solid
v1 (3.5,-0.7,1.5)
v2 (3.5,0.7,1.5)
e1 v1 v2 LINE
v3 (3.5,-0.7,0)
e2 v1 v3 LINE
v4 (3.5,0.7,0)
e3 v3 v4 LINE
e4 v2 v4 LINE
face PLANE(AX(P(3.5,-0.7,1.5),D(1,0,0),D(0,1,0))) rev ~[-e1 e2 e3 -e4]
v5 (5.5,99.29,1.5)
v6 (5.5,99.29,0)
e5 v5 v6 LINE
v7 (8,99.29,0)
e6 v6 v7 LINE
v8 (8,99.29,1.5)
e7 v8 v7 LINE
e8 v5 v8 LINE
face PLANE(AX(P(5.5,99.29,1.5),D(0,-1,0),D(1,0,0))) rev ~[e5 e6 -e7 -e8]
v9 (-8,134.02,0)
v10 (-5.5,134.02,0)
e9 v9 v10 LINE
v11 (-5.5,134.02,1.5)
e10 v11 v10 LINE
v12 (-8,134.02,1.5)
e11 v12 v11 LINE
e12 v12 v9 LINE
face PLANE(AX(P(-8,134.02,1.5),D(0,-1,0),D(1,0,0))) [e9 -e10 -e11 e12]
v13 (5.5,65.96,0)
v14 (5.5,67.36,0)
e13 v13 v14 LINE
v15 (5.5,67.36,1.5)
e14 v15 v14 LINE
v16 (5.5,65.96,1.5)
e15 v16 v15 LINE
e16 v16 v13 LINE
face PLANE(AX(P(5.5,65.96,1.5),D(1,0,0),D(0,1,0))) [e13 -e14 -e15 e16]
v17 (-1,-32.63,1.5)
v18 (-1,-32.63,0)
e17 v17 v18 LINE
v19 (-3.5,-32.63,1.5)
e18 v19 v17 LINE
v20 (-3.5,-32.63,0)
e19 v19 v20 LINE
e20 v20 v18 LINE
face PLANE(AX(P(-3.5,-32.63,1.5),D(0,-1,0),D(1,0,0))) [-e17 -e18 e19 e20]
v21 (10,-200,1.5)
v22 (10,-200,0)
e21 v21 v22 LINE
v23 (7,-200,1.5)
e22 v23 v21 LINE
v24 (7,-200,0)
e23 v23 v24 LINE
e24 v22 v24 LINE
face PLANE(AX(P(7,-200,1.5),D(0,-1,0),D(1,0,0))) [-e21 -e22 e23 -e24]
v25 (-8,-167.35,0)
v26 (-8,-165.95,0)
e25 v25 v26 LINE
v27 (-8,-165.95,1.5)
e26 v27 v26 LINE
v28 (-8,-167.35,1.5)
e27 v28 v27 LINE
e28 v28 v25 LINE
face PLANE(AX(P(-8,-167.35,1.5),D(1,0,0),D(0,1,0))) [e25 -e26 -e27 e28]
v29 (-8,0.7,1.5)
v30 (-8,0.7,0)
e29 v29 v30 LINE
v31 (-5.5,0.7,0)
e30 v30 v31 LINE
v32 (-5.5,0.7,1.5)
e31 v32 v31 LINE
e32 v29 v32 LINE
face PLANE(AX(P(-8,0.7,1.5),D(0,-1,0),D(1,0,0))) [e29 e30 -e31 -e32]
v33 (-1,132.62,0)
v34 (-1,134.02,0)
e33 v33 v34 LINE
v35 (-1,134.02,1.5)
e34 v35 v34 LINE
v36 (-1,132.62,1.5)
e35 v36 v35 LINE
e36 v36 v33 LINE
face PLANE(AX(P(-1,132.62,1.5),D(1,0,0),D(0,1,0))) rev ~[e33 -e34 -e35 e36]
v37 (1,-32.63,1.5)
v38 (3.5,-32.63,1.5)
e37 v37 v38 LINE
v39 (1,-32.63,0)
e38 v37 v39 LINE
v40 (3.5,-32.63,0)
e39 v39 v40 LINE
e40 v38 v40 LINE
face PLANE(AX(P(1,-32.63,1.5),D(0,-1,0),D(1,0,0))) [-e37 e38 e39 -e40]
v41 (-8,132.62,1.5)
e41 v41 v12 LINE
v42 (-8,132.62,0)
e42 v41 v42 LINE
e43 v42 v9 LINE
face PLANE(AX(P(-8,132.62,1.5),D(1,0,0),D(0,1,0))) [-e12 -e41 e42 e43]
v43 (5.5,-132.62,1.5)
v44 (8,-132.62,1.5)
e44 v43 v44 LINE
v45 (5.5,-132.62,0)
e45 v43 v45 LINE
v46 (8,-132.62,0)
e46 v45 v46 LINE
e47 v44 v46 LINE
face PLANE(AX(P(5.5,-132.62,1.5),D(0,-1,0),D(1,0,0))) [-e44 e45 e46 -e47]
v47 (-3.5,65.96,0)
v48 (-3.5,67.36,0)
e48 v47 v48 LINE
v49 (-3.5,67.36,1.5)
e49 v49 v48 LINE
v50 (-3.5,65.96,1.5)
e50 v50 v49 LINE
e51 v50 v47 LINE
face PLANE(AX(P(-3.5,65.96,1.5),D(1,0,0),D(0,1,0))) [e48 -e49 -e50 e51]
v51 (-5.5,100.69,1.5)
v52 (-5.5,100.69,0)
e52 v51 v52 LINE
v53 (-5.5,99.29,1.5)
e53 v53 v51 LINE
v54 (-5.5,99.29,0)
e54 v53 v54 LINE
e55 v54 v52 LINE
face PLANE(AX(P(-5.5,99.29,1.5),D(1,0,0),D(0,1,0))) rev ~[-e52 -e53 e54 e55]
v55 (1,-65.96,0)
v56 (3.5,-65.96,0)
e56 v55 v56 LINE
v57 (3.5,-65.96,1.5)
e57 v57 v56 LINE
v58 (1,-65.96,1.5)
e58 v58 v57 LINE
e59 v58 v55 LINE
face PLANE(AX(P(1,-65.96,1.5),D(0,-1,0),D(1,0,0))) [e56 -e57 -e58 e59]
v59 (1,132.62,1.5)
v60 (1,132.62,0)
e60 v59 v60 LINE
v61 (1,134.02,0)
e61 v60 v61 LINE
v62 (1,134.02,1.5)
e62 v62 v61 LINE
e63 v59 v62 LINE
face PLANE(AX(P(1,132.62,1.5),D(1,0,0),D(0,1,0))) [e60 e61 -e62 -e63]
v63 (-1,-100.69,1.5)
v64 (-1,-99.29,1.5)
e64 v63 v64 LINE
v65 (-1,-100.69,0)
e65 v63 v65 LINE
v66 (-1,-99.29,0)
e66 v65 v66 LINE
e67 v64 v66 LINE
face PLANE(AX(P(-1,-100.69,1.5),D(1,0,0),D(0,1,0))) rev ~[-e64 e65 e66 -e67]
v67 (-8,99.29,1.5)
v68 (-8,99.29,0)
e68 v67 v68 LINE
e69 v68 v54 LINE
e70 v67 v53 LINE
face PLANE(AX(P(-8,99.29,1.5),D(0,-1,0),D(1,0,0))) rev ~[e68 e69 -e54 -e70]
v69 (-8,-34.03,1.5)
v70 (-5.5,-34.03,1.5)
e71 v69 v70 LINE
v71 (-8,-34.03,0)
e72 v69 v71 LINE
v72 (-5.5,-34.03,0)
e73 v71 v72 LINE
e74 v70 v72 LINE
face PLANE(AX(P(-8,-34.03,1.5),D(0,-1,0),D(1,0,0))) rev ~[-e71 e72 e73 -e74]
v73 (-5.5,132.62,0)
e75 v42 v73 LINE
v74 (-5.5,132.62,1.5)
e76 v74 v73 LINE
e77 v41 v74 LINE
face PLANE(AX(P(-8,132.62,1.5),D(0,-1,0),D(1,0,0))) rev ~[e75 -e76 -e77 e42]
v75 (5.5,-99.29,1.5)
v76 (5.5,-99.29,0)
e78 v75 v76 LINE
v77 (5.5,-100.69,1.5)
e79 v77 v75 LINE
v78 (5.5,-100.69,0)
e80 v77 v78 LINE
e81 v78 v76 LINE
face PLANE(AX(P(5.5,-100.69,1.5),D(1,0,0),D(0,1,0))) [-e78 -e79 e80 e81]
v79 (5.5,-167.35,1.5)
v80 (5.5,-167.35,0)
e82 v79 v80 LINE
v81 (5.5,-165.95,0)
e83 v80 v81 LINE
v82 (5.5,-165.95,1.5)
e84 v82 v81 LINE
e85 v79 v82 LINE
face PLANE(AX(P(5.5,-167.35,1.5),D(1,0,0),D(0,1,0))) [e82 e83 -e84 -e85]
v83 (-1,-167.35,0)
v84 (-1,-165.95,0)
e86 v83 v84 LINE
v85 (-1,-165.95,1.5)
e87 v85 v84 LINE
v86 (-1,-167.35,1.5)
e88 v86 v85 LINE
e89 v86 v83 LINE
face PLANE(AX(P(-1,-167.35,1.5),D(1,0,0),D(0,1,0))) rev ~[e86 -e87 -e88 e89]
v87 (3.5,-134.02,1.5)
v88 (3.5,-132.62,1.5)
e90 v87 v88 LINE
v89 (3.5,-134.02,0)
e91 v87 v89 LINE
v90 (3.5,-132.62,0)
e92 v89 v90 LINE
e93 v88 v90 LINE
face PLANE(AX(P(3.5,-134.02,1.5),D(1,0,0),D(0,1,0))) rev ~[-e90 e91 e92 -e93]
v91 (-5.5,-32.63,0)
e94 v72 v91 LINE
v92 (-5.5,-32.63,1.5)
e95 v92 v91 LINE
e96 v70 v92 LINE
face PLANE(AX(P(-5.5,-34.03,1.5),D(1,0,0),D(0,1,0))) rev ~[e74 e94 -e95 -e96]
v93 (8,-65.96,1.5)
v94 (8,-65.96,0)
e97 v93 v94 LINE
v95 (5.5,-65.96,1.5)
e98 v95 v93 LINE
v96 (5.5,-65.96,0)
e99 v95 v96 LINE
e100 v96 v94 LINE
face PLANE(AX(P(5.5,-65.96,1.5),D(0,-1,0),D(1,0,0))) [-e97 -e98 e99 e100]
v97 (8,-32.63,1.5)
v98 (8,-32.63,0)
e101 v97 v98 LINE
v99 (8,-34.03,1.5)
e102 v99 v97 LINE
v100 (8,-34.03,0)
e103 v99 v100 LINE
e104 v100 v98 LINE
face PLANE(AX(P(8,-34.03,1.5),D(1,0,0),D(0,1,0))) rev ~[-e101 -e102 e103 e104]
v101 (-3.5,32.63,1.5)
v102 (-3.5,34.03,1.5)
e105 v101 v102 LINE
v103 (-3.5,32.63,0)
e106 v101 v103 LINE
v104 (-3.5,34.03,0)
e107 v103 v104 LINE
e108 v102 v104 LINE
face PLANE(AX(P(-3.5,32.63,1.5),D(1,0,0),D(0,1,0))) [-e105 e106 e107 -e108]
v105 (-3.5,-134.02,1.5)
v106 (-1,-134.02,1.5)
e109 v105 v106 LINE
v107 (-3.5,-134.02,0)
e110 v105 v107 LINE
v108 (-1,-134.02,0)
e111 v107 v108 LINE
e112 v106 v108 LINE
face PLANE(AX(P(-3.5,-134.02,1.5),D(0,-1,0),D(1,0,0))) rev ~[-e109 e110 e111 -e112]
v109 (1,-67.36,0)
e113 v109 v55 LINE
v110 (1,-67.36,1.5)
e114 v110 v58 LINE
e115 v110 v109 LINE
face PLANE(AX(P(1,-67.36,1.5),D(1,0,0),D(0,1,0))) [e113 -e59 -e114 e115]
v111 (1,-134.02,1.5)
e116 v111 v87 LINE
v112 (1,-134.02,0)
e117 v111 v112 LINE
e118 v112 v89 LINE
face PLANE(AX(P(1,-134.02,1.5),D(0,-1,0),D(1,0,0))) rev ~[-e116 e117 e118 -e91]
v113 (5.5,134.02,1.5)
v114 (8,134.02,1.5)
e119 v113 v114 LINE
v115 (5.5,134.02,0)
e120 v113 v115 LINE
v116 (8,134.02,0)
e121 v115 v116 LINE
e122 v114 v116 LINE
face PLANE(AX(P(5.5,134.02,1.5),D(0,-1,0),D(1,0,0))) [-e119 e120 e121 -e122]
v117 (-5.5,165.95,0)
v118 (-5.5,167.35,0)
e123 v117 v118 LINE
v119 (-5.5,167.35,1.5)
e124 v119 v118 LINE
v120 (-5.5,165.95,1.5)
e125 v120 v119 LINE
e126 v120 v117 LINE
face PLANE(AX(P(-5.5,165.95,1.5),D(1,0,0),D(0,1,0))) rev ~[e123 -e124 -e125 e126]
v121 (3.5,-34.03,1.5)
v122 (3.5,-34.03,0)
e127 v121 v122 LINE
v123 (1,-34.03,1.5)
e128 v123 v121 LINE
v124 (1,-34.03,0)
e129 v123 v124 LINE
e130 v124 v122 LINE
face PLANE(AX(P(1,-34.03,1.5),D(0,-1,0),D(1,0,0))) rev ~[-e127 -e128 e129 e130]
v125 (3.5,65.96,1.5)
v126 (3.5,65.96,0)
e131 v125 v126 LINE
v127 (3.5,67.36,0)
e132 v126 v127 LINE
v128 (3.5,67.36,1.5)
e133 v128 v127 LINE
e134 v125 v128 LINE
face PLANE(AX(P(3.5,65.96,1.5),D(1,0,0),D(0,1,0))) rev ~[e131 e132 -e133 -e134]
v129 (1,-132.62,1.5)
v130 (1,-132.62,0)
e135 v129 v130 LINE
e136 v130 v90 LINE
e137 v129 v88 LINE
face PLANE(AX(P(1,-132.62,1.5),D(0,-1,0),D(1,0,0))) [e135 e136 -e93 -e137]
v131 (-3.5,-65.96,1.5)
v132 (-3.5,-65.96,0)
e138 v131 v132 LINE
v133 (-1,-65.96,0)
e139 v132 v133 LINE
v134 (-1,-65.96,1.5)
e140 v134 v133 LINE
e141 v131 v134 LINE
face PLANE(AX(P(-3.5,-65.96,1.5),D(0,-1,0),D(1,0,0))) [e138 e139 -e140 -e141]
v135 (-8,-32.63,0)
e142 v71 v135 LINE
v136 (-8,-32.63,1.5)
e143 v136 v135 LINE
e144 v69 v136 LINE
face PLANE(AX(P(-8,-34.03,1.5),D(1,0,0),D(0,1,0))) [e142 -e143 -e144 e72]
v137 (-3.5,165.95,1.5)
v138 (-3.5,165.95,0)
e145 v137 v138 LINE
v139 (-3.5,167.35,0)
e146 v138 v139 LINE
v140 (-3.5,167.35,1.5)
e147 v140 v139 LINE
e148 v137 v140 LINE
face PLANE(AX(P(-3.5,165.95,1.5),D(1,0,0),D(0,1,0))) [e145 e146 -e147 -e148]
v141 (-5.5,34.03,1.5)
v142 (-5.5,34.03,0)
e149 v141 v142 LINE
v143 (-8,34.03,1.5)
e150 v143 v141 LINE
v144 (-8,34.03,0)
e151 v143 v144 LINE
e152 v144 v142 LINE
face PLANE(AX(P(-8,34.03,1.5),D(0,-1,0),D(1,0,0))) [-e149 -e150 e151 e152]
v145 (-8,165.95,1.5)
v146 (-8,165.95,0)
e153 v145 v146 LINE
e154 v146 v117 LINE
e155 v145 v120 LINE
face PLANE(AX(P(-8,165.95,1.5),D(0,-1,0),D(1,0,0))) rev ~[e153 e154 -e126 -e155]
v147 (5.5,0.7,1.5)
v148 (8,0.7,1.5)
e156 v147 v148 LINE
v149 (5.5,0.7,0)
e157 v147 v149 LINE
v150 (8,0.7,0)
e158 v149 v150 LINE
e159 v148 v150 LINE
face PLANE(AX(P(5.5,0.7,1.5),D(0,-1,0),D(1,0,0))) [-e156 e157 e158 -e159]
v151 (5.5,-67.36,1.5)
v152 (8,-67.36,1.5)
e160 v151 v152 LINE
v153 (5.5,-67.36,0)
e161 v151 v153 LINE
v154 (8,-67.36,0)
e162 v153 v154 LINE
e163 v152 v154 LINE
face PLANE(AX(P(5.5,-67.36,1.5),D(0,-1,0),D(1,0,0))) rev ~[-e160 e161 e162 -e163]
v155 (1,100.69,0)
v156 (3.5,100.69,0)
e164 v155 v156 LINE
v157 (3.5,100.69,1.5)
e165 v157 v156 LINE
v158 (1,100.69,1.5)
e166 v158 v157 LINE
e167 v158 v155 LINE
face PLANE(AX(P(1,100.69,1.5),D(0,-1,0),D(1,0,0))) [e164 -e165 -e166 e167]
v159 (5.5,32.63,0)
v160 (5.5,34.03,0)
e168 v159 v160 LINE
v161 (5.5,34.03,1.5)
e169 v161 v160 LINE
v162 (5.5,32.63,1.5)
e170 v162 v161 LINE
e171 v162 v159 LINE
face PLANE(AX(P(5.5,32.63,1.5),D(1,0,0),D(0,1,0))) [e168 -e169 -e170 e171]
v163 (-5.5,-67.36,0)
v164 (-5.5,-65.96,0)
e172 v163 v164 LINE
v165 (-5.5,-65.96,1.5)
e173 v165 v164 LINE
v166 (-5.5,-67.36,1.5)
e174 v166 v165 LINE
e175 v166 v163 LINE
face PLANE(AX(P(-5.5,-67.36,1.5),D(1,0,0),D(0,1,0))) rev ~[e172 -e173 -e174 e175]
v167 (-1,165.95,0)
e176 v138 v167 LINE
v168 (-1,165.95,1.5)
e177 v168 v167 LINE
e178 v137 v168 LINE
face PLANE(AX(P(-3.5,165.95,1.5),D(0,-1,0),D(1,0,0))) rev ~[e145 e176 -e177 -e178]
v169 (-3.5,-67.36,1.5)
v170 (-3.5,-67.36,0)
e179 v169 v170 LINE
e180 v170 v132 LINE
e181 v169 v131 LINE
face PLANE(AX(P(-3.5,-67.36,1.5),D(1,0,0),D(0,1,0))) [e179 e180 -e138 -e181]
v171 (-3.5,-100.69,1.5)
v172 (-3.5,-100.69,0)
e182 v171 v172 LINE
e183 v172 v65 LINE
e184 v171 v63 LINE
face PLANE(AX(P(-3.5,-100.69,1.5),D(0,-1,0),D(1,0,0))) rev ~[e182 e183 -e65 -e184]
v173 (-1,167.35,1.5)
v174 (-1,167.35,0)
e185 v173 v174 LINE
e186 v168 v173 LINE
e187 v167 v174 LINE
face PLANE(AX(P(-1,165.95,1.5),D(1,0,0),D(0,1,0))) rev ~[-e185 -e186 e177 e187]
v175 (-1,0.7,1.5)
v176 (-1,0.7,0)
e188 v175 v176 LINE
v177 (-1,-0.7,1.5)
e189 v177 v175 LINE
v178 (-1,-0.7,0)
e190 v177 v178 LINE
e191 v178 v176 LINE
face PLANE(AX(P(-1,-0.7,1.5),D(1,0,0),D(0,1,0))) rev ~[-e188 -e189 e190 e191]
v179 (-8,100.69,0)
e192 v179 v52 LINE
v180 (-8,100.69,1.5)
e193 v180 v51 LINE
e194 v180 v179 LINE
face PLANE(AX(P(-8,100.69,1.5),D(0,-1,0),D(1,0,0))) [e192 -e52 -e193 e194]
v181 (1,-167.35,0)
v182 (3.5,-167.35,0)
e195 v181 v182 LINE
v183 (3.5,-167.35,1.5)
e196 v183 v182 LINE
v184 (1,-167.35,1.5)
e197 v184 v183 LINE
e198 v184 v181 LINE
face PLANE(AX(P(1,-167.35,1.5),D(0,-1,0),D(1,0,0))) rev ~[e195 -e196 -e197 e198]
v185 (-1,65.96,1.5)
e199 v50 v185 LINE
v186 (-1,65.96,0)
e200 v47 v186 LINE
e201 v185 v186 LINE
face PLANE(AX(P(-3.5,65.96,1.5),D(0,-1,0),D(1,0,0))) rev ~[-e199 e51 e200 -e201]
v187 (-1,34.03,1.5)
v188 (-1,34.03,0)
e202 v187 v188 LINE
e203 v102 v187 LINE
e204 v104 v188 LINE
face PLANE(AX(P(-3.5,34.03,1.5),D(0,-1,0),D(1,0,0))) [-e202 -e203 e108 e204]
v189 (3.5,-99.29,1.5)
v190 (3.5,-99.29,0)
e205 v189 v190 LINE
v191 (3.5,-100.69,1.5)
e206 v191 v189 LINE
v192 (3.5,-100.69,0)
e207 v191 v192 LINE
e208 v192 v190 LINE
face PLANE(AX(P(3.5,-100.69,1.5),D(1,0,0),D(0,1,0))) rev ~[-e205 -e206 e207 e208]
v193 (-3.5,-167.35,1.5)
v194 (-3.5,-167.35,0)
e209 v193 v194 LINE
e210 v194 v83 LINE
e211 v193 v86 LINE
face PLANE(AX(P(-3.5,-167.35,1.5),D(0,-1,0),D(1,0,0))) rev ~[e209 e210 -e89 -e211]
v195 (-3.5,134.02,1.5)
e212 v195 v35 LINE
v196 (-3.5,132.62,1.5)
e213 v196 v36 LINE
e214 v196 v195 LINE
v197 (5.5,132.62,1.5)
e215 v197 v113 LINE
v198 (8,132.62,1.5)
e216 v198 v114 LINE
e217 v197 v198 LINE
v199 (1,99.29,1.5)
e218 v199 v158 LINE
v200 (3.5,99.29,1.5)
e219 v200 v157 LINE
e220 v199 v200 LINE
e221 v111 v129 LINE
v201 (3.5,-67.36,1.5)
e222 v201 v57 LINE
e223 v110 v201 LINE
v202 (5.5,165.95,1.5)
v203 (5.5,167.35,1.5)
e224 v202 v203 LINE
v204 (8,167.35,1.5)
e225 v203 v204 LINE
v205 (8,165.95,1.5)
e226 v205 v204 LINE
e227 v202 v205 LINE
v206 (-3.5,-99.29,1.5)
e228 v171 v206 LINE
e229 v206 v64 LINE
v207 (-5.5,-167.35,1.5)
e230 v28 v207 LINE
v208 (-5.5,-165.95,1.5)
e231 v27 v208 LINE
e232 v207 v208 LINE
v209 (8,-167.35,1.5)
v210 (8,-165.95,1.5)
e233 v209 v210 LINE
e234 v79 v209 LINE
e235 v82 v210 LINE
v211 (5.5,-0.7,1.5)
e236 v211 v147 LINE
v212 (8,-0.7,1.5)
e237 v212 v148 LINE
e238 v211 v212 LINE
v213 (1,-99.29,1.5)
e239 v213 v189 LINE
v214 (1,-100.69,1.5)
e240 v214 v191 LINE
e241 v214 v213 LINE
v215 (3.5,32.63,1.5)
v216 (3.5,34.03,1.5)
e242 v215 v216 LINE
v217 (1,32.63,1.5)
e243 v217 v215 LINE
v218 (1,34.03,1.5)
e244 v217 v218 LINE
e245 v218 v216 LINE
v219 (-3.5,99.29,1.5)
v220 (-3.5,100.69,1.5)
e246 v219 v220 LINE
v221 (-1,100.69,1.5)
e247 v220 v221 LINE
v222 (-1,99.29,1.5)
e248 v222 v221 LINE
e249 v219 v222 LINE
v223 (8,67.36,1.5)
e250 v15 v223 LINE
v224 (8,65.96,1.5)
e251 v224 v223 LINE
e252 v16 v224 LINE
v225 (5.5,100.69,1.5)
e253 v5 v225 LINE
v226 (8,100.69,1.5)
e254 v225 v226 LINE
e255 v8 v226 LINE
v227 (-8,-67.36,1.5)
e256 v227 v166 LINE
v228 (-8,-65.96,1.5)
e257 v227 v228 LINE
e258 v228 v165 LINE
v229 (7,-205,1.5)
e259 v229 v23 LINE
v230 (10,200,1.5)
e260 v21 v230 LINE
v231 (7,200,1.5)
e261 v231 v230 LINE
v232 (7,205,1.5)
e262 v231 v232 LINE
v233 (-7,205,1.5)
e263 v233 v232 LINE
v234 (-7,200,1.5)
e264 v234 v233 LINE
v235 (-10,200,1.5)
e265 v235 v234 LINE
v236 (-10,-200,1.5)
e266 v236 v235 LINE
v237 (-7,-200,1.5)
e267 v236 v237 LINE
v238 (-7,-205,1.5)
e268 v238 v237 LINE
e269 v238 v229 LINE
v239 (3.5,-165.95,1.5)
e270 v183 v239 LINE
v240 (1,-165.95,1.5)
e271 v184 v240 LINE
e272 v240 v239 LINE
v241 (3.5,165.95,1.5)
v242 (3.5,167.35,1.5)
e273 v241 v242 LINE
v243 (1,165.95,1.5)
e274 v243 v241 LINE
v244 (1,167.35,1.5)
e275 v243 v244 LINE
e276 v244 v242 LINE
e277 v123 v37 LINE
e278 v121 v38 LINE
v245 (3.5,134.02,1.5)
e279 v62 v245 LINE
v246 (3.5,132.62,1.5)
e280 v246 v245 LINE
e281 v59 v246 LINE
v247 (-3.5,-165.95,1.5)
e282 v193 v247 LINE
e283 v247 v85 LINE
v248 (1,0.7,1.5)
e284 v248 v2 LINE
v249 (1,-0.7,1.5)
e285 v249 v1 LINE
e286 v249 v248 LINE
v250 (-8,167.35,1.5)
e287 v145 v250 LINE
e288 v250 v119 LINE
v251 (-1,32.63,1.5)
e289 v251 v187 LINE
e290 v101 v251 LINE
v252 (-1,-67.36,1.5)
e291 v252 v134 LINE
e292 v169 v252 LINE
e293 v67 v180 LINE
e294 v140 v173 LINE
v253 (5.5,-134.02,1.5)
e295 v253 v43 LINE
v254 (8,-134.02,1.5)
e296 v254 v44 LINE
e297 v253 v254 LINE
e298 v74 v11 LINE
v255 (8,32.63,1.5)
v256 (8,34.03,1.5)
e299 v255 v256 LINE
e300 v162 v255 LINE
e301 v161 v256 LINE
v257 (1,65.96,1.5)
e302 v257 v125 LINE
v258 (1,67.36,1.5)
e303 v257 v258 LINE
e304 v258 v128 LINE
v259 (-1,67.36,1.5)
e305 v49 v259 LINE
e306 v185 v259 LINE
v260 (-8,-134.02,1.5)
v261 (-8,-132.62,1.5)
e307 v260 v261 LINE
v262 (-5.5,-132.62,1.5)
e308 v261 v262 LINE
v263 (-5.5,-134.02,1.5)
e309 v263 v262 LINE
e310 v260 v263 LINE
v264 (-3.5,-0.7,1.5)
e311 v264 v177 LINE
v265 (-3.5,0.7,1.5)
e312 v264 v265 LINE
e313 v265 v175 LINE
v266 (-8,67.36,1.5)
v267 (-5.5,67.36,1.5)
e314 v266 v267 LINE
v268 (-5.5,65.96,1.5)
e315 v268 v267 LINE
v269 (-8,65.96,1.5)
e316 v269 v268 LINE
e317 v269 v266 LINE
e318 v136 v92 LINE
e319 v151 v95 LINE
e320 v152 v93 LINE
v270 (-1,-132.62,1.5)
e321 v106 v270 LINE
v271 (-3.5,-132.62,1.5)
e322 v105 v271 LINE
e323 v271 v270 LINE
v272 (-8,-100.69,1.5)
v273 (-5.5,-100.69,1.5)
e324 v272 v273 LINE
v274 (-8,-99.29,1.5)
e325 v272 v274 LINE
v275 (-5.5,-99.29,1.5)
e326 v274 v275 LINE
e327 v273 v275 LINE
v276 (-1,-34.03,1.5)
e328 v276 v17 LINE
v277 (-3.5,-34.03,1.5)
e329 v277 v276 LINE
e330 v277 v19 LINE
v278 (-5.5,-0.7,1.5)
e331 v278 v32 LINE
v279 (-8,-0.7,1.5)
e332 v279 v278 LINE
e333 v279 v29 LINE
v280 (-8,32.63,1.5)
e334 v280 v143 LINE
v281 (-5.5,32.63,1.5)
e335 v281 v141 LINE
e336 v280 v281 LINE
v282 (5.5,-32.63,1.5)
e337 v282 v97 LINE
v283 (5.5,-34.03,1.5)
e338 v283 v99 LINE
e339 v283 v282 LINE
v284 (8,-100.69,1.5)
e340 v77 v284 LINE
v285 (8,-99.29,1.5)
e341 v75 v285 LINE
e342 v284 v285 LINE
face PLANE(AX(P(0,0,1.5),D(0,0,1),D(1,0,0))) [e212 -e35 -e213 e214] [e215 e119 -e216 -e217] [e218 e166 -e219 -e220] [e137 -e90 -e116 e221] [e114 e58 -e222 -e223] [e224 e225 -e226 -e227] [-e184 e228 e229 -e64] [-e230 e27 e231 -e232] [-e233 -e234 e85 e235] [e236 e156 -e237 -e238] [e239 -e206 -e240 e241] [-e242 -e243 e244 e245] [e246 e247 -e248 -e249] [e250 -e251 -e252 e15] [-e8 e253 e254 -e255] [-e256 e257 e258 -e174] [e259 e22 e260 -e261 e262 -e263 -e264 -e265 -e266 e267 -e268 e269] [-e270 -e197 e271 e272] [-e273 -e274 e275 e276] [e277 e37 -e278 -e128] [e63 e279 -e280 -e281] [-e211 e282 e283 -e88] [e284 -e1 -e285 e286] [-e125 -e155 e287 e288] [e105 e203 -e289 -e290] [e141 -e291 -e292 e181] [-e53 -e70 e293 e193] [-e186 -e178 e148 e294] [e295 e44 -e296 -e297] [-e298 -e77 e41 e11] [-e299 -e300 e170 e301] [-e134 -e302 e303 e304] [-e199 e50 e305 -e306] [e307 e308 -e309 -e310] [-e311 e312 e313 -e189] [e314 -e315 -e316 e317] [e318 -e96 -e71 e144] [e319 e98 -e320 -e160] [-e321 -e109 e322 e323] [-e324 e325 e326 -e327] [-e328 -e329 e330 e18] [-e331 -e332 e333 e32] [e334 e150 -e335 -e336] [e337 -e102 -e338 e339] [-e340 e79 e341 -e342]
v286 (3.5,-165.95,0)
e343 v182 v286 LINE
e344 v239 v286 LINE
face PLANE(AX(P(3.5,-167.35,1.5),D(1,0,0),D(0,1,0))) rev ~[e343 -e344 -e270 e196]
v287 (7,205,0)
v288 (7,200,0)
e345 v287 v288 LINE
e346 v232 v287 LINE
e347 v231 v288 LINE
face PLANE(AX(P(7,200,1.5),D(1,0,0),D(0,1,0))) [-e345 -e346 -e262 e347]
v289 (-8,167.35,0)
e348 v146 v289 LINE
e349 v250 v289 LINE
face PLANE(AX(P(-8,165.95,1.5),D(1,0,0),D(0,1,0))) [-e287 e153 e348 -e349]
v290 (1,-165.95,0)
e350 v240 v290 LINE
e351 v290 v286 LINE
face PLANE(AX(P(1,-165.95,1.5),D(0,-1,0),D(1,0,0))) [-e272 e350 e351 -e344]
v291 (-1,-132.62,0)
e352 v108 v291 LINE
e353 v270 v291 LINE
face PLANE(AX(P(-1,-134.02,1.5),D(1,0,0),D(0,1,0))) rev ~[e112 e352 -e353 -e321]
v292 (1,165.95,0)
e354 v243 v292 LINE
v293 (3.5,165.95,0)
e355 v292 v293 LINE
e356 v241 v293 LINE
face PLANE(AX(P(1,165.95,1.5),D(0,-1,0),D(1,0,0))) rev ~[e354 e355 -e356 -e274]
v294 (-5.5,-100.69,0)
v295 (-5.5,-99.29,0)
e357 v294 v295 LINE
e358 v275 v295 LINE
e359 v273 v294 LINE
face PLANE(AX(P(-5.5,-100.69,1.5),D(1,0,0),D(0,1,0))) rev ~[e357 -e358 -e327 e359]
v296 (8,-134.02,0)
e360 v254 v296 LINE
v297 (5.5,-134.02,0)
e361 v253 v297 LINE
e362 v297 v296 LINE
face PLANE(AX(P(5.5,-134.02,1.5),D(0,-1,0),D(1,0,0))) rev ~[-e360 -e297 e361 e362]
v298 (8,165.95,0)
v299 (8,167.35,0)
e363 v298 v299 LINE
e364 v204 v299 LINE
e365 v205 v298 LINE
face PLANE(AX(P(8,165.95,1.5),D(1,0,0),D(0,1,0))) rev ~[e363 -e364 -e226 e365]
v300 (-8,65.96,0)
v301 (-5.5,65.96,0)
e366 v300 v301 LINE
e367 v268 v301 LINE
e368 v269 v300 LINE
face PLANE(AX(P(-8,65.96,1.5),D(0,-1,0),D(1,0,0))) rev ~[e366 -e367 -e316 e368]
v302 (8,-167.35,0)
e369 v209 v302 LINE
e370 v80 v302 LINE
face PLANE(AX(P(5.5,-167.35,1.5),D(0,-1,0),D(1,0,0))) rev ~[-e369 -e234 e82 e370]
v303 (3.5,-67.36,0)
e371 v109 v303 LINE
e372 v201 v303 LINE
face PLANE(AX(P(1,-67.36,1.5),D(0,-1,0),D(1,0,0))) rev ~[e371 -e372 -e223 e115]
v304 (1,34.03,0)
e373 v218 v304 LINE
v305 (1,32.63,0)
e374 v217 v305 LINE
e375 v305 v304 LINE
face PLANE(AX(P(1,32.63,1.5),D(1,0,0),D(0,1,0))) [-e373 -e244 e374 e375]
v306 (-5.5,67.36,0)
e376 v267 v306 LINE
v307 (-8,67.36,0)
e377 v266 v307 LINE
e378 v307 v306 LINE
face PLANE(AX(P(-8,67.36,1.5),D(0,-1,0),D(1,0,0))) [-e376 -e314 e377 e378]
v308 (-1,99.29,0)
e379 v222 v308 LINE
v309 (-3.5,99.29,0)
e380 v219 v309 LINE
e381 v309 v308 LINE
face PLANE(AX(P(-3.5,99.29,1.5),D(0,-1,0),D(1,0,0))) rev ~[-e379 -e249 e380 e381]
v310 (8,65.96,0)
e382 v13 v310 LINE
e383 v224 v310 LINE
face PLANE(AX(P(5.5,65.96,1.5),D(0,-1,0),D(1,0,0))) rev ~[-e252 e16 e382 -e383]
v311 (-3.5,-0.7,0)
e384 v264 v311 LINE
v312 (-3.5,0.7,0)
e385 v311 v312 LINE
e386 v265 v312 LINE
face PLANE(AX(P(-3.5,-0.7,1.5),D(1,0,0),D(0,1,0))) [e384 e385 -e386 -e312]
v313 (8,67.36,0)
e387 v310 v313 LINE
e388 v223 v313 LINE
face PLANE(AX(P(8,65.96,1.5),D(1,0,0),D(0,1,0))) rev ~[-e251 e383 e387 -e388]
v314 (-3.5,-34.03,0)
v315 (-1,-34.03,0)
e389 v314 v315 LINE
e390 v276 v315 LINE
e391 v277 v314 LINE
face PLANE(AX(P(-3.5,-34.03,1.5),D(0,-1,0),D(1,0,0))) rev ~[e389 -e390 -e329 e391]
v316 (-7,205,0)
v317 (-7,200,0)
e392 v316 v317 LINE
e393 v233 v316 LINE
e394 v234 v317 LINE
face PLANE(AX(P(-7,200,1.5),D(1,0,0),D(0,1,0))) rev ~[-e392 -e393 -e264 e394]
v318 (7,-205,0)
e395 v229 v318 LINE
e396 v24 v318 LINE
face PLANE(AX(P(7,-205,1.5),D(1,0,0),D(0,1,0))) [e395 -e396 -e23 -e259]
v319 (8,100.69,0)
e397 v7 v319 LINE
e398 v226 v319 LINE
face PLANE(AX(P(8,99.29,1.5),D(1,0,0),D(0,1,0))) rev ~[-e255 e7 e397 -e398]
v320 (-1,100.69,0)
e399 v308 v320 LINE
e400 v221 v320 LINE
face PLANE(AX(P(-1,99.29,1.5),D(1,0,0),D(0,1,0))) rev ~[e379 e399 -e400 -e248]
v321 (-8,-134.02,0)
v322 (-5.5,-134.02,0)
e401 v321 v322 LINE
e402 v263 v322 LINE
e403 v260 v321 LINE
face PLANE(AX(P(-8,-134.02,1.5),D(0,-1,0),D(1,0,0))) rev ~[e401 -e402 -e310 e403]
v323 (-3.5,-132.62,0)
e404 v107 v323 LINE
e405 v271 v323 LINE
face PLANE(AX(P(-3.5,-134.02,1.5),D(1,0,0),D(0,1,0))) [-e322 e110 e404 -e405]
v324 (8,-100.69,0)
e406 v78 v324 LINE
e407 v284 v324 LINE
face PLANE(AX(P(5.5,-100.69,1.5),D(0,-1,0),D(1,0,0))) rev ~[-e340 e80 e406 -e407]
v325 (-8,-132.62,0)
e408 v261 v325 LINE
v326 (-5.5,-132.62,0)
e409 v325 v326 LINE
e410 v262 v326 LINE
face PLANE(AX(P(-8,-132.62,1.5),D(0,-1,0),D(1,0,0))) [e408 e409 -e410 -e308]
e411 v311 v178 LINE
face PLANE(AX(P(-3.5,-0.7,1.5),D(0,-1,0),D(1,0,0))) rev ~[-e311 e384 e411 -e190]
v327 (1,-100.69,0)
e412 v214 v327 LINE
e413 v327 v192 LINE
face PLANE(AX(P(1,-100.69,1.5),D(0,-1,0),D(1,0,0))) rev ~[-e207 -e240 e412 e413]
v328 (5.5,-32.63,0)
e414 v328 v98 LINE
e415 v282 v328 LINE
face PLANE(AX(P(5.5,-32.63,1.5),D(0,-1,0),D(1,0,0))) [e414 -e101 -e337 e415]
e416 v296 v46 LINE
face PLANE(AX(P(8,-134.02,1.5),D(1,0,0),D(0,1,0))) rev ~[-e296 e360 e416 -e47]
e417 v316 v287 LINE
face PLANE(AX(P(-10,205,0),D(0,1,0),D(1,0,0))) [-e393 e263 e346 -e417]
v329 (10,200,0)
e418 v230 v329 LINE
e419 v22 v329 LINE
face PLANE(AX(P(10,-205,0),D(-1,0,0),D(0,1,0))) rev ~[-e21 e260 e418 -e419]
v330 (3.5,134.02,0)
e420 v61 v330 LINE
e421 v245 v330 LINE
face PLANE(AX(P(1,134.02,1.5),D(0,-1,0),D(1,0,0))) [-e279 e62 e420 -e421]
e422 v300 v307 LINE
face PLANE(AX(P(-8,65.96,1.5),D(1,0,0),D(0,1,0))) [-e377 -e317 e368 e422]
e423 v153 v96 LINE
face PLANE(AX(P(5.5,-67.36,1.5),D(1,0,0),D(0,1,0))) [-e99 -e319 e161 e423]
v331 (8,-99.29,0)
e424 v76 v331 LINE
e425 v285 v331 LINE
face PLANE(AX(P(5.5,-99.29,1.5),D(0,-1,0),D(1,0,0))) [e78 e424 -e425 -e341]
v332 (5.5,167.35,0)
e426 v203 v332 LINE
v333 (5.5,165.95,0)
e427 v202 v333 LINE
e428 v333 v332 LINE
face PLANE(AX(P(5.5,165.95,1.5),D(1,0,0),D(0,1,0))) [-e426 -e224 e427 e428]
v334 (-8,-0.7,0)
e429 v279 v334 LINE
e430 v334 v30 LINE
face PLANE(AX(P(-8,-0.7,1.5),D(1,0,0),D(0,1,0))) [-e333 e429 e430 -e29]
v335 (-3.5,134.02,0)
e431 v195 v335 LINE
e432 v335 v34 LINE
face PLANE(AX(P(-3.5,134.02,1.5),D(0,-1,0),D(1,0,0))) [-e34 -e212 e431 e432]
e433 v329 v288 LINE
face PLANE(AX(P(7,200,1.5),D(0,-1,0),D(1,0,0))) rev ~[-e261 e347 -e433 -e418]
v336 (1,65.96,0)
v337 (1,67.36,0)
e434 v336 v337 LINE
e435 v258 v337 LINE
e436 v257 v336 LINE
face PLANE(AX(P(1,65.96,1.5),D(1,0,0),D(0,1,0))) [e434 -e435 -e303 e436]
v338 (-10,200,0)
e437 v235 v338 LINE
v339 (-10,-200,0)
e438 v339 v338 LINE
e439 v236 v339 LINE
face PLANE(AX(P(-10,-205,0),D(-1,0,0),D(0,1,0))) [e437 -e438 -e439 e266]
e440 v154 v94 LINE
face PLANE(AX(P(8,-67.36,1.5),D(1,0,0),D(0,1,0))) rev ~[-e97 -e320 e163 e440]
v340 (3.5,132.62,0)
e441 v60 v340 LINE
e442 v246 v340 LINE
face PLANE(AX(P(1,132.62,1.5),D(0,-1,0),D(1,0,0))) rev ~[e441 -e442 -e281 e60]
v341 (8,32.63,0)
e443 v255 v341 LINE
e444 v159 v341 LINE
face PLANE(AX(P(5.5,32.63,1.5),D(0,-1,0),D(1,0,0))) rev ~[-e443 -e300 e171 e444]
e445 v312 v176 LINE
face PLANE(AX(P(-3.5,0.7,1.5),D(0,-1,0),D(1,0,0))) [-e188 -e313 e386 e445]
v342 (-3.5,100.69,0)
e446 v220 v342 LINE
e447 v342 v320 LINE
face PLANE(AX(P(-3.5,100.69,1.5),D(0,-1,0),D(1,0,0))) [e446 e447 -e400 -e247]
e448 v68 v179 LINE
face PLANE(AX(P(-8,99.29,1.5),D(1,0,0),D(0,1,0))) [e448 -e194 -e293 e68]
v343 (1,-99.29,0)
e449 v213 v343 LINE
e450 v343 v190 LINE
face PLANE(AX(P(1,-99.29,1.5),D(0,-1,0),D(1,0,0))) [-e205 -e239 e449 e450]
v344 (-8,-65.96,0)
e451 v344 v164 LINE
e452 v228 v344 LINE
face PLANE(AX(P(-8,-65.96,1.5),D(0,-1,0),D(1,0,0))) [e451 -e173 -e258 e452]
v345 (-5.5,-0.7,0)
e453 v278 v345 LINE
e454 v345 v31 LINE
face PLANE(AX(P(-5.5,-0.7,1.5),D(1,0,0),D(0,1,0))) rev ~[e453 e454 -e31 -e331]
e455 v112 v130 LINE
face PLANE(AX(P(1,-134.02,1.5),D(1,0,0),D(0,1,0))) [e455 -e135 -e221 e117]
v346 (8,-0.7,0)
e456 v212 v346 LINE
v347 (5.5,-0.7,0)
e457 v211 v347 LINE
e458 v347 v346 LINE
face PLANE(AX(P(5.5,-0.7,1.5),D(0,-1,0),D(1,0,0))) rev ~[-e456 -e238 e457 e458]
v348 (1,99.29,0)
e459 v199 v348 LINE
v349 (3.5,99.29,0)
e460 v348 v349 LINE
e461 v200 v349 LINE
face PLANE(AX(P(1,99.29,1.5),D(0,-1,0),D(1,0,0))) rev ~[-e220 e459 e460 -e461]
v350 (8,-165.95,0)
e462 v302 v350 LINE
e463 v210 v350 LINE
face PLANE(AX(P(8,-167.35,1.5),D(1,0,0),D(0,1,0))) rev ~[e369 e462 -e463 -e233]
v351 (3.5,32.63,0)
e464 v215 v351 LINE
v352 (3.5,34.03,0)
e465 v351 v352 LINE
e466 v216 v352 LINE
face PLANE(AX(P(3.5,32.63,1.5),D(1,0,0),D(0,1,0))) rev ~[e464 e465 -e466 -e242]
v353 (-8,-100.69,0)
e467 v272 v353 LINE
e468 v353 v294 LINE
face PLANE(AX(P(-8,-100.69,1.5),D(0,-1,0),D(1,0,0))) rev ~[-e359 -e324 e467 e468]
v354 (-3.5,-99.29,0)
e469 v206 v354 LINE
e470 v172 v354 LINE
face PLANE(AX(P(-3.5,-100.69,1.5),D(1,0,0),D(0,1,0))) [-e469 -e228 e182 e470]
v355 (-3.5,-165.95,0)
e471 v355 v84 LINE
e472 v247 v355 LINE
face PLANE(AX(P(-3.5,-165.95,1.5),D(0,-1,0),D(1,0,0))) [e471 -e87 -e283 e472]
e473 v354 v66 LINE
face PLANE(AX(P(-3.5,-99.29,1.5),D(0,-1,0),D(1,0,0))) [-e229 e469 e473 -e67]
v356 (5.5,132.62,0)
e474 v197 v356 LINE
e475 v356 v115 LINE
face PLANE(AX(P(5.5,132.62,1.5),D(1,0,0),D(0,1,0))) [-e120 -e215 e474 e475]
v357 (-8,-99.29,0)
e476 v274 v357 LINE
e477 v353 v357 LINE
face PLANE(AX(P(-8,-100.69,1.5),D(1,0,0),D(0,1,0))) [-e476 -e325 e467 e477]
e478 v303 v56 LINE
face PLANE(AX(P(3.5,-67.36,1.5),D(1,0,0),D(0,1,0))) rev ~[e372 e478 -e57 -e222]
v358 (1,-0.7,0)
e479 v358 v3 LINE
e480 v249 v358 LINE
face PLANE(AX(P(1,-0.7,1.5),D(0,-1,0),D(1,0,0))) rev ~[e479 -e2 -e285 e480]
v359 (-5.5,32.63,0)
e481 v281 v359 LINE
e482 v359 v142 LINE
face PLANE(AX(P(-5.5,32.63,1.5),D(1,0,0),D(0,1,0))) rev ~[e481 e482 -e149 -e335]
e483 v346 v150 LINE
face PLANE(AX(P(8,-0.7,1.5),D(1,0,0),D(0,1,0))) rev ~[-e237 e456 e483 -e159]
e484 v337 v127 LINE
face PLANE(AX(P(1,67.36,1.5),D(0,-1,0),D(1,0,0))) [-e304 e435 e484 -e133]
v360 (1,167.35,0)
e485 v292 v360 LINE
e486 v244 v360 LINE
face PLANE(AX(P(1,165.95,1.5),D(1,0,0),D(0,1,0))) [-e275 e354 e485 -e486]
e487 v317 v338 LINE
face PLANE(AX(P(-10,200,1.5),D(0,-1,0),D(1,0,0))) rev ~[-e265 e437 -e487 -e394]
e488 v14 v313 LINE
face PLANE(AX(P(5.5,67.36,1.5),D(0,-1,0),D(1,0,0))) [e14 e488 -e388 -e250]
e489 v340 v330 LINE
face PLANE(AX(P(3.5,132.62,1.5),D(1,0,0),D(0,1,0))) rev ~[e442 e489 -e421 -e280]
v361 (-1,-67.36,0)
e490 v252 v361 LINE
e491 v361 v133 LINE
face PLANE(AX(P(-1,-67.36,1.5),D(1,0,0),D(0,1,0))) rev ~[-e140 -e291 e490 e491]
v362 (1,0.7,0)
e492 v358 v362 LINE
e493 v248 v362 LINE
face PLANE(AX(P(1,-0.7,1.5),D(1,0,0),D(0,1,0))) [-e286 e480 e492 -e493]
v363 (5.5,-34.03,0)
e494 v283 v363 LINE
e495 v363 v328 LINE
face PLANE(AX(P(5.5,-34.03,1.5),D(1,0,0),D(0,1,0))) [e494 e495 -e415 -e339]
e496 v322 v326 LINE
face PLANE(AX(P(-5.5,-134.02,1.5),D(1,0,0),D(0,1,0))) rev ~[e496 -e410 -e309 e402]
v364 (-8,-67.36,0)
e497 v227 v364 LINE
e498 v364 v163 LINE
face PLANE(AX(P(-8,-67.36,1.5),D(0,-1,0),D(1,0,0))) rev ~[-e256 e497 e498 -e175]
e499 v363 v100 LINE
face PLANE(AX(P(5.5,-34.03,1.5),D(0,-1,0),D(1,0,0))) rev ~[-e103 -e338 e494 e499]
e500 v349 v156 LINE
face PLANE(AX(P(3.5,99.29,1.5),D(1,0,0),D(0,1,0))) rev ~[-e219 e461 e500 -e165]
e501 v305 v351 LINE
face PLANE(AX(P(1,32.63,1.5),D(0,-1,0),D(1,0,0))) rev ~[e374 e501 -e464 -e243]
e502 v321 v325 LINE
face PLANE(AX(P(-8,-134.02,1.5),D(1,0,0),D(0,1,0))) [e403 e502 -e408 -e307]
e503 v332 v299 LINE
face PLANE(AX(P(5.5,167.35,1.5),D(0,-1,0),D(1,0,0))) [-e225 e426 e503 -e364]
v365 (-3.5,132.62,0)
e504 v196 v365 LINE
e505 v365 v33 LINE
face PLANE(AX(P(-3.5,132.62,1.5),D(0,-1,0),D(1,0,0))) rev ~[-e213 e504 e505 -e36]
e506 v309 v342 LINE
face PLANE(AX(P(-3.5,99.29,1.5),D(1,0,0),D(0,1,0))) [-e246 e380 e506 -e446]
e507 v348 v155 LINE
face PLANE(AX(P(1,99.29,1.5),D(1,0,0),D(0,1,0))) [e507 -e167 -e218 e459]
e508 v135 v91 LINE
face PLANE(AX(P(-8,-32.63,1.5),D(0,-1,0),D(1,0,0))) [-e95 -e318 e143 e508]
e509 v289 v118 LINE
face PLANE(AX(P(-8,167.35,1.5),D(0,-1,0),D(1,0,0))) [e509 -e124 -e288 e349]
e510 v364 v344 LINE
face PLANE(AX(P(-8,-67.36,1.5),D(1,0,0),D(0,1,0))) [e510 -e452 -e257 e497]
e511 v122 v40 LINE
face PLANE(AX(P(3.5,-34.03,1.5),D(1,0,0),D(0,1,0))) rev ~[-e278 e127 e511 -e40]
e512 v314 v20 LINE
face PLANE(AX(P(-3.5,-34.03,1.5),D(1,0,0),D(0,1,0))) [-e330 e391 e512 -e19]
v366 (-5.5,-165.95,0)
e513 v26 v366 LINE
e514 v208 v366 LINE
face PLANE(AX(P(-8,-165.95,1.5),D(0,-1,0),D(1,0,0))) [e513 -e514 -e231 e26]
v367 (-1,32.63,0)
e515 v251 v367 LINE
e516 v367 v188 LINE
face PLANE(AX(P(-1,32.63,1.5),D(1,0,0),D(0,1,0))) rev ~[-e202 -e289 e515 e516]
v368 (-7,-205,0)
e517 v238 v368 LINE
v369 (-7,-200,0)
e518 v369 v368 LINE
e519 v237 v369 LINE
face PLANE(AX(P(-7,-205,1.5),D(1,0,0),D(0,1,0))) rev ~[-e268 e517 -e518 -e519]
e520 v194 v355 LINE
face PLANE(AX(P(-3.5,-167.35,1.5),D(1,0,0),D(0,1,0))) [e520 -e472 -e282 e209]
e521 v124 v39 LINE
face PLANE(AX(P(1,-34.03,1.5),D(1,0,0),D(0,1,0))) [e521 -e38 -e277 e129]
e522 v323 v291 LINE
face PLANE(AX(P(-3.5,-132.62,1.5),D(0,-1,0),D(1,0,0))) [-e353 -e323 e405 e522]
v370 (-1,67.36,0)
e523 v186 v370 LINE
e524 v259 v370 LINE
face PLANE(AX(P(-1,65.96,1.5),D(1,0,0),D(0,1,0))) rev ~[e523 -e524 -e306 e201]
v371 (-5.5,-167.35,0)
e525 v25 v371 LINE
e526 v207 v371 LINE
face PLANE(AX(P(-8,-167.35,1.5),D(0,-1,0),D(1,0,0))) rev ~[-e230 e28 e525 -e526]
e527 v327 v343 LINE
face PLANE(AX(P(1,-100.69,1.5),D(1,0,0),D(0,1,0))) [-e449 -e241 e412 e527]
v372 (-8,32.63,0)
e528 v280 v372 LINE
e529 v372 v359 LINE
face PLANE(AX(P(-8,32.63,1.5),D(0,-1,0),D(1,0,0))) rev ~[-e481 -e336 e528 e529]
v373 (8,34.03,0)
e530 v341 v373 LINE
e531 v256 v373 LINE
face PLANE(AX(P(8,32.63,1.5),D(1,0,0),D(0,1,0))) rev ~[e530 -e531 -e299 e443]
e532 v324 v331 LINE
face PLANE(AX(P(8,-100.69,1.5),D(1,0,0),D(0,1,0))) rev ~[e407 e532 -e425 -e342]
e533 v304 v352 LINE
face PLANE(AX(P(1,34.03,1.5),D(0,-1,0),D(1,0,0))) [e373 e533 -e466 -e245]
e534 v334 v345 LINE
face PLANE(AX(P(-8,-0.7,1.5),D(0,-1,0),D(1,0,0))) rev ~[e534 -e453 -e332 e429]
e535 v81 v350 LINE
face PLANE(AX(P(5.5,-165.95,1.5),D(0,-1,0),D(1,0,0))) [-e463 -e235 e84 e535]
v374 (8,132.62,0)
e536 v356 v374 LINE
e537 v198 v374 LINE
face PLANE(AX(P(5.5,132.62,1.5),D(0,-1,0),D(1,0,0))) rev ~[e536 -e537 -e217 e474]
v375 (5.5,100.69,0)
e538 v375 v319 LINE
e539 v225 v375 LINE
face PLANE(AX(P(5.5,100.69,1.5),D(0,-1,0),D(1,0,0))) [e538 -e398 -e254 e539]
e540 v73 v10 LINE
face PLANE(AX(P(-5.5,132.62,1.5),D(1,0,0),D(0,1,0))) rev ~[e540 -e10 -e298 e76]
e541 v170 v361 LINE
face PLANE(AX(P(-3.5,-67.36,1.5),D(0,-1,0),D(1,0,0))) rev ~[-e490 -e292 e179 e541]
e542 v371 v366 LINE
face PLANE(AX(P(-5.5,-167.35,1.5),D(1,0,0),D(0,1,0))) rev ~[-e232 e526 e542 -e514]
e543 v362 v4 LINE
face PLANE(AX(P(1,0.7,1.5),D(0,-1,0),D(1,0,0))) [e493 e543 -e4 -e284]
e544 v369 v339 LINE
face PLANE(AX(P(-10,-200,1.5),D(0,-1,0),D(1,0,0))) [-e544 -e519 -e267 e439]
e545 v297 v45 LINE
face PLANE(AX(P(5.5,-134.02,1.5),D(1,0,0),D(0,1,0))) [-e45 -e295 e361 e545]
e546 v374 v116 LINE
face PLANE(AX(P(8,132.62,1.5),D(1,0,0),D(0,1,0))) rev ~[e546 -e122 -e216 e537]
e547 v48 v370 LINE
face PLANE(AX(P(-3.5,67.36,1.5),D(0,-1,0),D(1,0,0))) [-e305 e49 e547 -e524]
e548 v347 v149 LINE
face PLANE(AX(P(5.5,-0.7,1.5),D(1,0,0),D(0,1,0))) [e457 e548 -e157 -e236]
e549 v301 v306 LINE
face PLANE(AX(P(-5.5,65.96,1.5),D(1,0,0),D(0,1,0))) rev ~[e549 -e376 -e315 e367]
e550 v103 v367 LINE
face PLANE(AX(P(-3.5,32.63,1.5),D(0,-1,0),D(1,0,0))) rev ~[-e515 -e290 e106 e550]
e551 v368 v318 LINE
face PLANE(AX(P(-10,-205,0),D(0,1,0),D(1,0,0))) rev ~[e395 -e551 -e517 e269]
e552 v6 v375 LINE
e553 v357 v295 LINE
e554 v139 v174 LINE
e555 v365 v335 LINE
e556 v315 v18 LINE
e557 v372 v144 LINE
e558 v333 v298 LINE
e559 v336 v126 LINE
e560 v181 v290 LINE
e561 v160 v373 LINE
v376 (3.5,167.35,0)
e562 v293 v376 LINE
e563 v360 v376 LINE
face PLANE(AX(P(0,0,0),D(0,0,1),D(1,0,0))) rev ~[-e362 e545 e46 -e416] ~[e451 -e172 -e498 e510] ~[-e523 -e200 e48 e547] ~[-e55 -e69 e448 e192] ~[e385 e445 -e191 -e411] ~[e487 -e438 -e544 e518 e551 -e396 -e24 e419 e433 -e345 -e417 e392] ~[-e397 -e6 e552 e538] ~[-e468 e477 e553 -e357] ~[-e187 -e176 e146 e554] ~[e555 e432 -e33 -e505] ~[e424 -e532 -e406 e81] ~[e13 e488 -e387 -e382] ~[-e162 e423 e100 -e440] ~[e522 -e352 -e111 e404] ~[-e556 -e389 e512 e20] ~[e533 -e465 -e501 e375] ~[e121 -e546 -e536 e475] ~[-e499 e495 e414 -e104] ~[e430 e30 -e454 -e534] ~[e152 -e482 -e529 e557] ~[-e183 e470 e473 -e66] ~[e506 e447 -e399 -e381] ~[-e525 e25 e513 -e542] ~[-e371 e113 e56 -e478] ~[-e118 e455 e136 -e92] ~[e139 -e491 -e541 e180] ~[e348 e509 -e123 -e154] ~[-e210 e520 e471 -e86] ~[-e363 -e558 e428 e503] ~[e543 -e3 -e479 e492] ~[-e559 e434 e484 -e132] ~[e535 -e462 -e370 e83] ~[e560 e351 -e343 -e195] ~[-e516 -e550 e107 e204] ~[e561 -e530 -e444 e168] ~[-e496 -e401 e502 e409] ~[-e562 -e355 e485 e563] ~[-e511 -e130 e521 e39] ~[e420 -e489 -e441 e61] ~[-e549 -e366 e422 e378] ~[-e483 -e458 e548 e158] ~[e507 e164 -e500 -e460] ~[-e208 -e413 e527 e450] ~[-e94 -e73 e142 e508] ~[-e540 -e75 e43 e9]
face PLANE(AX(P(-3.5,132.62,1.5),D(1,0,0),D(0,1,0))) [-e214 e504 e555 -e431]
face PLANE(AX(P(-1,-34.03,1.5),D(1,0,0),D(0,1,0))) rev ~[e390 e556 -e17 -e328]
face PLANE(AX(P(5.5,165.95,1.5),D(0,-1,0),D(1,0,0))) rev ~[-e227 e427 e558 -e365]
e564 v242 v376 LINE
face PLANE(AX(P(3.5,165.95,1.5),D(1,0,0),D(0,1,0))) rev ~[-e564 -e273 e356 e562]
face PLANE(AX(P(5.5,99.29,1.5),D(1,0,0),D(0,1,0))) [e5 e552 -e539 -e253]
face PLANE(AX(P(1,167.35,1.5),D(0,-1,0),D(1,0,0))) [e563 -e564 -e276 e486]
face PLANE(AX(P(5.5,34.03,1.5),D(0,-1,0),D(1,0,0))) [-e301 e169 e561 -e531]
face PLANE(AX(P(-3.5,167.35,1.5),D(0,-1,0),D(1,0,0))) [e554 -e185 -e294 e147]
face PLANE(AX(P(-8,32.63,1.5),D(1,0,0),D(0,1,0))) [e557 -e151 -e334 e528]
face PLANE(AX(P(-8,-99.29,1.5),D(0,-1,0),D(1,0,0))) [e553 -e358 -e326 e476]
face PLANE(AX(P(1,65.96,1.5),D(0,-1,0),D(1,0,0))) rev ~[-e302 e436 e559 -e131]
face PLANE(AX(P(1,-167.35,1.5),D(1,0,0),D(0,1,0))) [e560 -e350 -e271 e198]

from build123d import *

# Parameters (mm, degrees)
SKETCH_1_W                 = 20
SKETCH_1_H                 = 410
EXTRUDE_1_DEPTH            = 1.5
CUT_EXTRUDE_1_REACH        = 3.5
SKETCH_2_W                 = 3
SKETCH_2_H                 = 5
SKETCH_3_W                 = 2.5
SKETCH_3_H                 = 1.4
CUT_EXTRUDE_2_DEPTH        = 1.5
PATTERN_LINEAR_1_COUNT     = 6
PATTERN_LINEAR_1_PITCH     = 33.33
PATTERN_LINEAR_1_COL_COUNT = 6
PATTERN_LINEAR_1_COL_PITCH = 33.33


with BuildPart() as part:
    # 草图1 → 凸台-拉伸1 (new body)
    with BuildSketch(Plane.XY):
        Rectangle(SKETCH_1_W, SKETCH_1_H)
    extrude(amount=EXTRUDE_1_DEPTH)

    # 草图2 → 切除-拉伸1 (cut, up to next)
    with BuildSketch(Plane.XY.offset(1.5), mode=Mode.PRIVATE) as cut_extrude_1_sk1:
        with Locations((-8.5, 202.5)):
            Rectangle(SKETCH_2_W, SKETCH_2_H)
    cut_extrude_1_tool1 = extrude(cut_extrude_1_sk1.sketch, amount=-CUT_EXTRUDE_1_REACH, mode=Mode.PRIVATE) & part.part
    add(cut_extrude_1_tool1.solids().sort_by_distance((-8.5, 202.5, 1.5))[0], mode=Mode.SUBTRACT)
    # 草图2 → 切除-拉伸1 (cut, up to next)
    with BuildSketch(Plane.XY.offset(1.5), mode=Mode.PRIVATE) as cut_extrude_1_sk2:
        with Locations((8.5, 202.5)):
            Rectangle(SKETCH_2_W, SKETCH_2_H)
    cut_extrude_1_tool2 = extrude(cut_extrude_1_sk2.sketch, amount=-CUT_EXTRUDE_1_REACH, mode=Mode.PRIVATE) & part.part
    add(cut_extrude_1_tool2.solids().sort_by_distance((8.5, 202.5, 1.5))[0], mode=Mode.SUBTRACT)
    # 草图2 → 切除-拉伸1 (cut, up to next)
    with BuildSketch(Plane.XY.offset(1.5), mode=Mode.PRIVATE) as cut_extrude_1_sk3:
        with Locations((-8.5, -202.5)):
            Rectangle(SKETCH_2_W, SKETCH_2_H)
    cut_extrude_1_tool3 = extrude(cut_extrude_1_sk3.sketch, amount=-CUT_EXTRUDE_1_REACH, mode=Mode.PRIVATE) & part.part
    add(cut_extrude_1_tool3.solids().sort_by_distance((-8.5, -202.5, 1.5))[0], mode=Mode.SUBTRACT)
    # 草图2 → 切除-拉伸1 (cut, up to next)
    with BuildSketch(Plane.XY.offset(1.5), mode=Mode.PRIVATE) as cut_extrude_1_sk4:
        with Locations((8.5, -202.5)):
            Rectangle(SKETCH_2_W, SKETCH_2_H)
    cut_extrude_1_tool4 = extrude(cut_extrude_1_sk4.sketch, amount=-CUT_EXTRUDE_1_REACH, mode=Mode.PRIVATE) & part.part
    add(cut_extrude_1_tool4.solids().sort_by_distance((8.5, -202.5, 1.5))[0], mode=Mode.SUBTRACT)

    # 草图3 → 切除-拉伸2 (cut)
    with BuildSketch(Plane.XY.offset(1.5)):
        with Locations((-6.75, 0)):
            Rectangle(SKETCH_3_W, SKETCH_3_H)
        with Locations((-2.25, 0)):
            Rectangle(SKETCH_3_W, SKETCH_3_H)
        with Locations((2.25, 0)):
            Rectangle(SKETCH_3_W, SKETCH_3_H)
        with Locations((6.75, 0)):
            Rectangle(SKETCH_3_W, SKETCH_3_H)
    cut_extrude_2 = extrude(amount=-CUT_EXTRUDE_2_DEPTH, mode=Mode.SUBTRACT)

    # 阵列(线性)1: 切除-拉伸2 ×6
    with Locations(*[(0, -i * PATTERN_LINEAR_1_PITCH, 0) for i in range(1, PATTERN_LINEAR_1_COUNT)]):
        add(cut_extrude_2, mode=Mode.SUBTRACT)

    # 阵列(线性)1 col: 切除-拉伸2 ×6
    with Locations(*[(0, i * PATTERN_LINEAR_1_COL_PITCH, 0) for i in range(1, PATTERN_LINEAR_1_COL_COUNT)]):
        add(cut_extrude_2, mode=Mode.SUBTRACT)


solid = part.part
